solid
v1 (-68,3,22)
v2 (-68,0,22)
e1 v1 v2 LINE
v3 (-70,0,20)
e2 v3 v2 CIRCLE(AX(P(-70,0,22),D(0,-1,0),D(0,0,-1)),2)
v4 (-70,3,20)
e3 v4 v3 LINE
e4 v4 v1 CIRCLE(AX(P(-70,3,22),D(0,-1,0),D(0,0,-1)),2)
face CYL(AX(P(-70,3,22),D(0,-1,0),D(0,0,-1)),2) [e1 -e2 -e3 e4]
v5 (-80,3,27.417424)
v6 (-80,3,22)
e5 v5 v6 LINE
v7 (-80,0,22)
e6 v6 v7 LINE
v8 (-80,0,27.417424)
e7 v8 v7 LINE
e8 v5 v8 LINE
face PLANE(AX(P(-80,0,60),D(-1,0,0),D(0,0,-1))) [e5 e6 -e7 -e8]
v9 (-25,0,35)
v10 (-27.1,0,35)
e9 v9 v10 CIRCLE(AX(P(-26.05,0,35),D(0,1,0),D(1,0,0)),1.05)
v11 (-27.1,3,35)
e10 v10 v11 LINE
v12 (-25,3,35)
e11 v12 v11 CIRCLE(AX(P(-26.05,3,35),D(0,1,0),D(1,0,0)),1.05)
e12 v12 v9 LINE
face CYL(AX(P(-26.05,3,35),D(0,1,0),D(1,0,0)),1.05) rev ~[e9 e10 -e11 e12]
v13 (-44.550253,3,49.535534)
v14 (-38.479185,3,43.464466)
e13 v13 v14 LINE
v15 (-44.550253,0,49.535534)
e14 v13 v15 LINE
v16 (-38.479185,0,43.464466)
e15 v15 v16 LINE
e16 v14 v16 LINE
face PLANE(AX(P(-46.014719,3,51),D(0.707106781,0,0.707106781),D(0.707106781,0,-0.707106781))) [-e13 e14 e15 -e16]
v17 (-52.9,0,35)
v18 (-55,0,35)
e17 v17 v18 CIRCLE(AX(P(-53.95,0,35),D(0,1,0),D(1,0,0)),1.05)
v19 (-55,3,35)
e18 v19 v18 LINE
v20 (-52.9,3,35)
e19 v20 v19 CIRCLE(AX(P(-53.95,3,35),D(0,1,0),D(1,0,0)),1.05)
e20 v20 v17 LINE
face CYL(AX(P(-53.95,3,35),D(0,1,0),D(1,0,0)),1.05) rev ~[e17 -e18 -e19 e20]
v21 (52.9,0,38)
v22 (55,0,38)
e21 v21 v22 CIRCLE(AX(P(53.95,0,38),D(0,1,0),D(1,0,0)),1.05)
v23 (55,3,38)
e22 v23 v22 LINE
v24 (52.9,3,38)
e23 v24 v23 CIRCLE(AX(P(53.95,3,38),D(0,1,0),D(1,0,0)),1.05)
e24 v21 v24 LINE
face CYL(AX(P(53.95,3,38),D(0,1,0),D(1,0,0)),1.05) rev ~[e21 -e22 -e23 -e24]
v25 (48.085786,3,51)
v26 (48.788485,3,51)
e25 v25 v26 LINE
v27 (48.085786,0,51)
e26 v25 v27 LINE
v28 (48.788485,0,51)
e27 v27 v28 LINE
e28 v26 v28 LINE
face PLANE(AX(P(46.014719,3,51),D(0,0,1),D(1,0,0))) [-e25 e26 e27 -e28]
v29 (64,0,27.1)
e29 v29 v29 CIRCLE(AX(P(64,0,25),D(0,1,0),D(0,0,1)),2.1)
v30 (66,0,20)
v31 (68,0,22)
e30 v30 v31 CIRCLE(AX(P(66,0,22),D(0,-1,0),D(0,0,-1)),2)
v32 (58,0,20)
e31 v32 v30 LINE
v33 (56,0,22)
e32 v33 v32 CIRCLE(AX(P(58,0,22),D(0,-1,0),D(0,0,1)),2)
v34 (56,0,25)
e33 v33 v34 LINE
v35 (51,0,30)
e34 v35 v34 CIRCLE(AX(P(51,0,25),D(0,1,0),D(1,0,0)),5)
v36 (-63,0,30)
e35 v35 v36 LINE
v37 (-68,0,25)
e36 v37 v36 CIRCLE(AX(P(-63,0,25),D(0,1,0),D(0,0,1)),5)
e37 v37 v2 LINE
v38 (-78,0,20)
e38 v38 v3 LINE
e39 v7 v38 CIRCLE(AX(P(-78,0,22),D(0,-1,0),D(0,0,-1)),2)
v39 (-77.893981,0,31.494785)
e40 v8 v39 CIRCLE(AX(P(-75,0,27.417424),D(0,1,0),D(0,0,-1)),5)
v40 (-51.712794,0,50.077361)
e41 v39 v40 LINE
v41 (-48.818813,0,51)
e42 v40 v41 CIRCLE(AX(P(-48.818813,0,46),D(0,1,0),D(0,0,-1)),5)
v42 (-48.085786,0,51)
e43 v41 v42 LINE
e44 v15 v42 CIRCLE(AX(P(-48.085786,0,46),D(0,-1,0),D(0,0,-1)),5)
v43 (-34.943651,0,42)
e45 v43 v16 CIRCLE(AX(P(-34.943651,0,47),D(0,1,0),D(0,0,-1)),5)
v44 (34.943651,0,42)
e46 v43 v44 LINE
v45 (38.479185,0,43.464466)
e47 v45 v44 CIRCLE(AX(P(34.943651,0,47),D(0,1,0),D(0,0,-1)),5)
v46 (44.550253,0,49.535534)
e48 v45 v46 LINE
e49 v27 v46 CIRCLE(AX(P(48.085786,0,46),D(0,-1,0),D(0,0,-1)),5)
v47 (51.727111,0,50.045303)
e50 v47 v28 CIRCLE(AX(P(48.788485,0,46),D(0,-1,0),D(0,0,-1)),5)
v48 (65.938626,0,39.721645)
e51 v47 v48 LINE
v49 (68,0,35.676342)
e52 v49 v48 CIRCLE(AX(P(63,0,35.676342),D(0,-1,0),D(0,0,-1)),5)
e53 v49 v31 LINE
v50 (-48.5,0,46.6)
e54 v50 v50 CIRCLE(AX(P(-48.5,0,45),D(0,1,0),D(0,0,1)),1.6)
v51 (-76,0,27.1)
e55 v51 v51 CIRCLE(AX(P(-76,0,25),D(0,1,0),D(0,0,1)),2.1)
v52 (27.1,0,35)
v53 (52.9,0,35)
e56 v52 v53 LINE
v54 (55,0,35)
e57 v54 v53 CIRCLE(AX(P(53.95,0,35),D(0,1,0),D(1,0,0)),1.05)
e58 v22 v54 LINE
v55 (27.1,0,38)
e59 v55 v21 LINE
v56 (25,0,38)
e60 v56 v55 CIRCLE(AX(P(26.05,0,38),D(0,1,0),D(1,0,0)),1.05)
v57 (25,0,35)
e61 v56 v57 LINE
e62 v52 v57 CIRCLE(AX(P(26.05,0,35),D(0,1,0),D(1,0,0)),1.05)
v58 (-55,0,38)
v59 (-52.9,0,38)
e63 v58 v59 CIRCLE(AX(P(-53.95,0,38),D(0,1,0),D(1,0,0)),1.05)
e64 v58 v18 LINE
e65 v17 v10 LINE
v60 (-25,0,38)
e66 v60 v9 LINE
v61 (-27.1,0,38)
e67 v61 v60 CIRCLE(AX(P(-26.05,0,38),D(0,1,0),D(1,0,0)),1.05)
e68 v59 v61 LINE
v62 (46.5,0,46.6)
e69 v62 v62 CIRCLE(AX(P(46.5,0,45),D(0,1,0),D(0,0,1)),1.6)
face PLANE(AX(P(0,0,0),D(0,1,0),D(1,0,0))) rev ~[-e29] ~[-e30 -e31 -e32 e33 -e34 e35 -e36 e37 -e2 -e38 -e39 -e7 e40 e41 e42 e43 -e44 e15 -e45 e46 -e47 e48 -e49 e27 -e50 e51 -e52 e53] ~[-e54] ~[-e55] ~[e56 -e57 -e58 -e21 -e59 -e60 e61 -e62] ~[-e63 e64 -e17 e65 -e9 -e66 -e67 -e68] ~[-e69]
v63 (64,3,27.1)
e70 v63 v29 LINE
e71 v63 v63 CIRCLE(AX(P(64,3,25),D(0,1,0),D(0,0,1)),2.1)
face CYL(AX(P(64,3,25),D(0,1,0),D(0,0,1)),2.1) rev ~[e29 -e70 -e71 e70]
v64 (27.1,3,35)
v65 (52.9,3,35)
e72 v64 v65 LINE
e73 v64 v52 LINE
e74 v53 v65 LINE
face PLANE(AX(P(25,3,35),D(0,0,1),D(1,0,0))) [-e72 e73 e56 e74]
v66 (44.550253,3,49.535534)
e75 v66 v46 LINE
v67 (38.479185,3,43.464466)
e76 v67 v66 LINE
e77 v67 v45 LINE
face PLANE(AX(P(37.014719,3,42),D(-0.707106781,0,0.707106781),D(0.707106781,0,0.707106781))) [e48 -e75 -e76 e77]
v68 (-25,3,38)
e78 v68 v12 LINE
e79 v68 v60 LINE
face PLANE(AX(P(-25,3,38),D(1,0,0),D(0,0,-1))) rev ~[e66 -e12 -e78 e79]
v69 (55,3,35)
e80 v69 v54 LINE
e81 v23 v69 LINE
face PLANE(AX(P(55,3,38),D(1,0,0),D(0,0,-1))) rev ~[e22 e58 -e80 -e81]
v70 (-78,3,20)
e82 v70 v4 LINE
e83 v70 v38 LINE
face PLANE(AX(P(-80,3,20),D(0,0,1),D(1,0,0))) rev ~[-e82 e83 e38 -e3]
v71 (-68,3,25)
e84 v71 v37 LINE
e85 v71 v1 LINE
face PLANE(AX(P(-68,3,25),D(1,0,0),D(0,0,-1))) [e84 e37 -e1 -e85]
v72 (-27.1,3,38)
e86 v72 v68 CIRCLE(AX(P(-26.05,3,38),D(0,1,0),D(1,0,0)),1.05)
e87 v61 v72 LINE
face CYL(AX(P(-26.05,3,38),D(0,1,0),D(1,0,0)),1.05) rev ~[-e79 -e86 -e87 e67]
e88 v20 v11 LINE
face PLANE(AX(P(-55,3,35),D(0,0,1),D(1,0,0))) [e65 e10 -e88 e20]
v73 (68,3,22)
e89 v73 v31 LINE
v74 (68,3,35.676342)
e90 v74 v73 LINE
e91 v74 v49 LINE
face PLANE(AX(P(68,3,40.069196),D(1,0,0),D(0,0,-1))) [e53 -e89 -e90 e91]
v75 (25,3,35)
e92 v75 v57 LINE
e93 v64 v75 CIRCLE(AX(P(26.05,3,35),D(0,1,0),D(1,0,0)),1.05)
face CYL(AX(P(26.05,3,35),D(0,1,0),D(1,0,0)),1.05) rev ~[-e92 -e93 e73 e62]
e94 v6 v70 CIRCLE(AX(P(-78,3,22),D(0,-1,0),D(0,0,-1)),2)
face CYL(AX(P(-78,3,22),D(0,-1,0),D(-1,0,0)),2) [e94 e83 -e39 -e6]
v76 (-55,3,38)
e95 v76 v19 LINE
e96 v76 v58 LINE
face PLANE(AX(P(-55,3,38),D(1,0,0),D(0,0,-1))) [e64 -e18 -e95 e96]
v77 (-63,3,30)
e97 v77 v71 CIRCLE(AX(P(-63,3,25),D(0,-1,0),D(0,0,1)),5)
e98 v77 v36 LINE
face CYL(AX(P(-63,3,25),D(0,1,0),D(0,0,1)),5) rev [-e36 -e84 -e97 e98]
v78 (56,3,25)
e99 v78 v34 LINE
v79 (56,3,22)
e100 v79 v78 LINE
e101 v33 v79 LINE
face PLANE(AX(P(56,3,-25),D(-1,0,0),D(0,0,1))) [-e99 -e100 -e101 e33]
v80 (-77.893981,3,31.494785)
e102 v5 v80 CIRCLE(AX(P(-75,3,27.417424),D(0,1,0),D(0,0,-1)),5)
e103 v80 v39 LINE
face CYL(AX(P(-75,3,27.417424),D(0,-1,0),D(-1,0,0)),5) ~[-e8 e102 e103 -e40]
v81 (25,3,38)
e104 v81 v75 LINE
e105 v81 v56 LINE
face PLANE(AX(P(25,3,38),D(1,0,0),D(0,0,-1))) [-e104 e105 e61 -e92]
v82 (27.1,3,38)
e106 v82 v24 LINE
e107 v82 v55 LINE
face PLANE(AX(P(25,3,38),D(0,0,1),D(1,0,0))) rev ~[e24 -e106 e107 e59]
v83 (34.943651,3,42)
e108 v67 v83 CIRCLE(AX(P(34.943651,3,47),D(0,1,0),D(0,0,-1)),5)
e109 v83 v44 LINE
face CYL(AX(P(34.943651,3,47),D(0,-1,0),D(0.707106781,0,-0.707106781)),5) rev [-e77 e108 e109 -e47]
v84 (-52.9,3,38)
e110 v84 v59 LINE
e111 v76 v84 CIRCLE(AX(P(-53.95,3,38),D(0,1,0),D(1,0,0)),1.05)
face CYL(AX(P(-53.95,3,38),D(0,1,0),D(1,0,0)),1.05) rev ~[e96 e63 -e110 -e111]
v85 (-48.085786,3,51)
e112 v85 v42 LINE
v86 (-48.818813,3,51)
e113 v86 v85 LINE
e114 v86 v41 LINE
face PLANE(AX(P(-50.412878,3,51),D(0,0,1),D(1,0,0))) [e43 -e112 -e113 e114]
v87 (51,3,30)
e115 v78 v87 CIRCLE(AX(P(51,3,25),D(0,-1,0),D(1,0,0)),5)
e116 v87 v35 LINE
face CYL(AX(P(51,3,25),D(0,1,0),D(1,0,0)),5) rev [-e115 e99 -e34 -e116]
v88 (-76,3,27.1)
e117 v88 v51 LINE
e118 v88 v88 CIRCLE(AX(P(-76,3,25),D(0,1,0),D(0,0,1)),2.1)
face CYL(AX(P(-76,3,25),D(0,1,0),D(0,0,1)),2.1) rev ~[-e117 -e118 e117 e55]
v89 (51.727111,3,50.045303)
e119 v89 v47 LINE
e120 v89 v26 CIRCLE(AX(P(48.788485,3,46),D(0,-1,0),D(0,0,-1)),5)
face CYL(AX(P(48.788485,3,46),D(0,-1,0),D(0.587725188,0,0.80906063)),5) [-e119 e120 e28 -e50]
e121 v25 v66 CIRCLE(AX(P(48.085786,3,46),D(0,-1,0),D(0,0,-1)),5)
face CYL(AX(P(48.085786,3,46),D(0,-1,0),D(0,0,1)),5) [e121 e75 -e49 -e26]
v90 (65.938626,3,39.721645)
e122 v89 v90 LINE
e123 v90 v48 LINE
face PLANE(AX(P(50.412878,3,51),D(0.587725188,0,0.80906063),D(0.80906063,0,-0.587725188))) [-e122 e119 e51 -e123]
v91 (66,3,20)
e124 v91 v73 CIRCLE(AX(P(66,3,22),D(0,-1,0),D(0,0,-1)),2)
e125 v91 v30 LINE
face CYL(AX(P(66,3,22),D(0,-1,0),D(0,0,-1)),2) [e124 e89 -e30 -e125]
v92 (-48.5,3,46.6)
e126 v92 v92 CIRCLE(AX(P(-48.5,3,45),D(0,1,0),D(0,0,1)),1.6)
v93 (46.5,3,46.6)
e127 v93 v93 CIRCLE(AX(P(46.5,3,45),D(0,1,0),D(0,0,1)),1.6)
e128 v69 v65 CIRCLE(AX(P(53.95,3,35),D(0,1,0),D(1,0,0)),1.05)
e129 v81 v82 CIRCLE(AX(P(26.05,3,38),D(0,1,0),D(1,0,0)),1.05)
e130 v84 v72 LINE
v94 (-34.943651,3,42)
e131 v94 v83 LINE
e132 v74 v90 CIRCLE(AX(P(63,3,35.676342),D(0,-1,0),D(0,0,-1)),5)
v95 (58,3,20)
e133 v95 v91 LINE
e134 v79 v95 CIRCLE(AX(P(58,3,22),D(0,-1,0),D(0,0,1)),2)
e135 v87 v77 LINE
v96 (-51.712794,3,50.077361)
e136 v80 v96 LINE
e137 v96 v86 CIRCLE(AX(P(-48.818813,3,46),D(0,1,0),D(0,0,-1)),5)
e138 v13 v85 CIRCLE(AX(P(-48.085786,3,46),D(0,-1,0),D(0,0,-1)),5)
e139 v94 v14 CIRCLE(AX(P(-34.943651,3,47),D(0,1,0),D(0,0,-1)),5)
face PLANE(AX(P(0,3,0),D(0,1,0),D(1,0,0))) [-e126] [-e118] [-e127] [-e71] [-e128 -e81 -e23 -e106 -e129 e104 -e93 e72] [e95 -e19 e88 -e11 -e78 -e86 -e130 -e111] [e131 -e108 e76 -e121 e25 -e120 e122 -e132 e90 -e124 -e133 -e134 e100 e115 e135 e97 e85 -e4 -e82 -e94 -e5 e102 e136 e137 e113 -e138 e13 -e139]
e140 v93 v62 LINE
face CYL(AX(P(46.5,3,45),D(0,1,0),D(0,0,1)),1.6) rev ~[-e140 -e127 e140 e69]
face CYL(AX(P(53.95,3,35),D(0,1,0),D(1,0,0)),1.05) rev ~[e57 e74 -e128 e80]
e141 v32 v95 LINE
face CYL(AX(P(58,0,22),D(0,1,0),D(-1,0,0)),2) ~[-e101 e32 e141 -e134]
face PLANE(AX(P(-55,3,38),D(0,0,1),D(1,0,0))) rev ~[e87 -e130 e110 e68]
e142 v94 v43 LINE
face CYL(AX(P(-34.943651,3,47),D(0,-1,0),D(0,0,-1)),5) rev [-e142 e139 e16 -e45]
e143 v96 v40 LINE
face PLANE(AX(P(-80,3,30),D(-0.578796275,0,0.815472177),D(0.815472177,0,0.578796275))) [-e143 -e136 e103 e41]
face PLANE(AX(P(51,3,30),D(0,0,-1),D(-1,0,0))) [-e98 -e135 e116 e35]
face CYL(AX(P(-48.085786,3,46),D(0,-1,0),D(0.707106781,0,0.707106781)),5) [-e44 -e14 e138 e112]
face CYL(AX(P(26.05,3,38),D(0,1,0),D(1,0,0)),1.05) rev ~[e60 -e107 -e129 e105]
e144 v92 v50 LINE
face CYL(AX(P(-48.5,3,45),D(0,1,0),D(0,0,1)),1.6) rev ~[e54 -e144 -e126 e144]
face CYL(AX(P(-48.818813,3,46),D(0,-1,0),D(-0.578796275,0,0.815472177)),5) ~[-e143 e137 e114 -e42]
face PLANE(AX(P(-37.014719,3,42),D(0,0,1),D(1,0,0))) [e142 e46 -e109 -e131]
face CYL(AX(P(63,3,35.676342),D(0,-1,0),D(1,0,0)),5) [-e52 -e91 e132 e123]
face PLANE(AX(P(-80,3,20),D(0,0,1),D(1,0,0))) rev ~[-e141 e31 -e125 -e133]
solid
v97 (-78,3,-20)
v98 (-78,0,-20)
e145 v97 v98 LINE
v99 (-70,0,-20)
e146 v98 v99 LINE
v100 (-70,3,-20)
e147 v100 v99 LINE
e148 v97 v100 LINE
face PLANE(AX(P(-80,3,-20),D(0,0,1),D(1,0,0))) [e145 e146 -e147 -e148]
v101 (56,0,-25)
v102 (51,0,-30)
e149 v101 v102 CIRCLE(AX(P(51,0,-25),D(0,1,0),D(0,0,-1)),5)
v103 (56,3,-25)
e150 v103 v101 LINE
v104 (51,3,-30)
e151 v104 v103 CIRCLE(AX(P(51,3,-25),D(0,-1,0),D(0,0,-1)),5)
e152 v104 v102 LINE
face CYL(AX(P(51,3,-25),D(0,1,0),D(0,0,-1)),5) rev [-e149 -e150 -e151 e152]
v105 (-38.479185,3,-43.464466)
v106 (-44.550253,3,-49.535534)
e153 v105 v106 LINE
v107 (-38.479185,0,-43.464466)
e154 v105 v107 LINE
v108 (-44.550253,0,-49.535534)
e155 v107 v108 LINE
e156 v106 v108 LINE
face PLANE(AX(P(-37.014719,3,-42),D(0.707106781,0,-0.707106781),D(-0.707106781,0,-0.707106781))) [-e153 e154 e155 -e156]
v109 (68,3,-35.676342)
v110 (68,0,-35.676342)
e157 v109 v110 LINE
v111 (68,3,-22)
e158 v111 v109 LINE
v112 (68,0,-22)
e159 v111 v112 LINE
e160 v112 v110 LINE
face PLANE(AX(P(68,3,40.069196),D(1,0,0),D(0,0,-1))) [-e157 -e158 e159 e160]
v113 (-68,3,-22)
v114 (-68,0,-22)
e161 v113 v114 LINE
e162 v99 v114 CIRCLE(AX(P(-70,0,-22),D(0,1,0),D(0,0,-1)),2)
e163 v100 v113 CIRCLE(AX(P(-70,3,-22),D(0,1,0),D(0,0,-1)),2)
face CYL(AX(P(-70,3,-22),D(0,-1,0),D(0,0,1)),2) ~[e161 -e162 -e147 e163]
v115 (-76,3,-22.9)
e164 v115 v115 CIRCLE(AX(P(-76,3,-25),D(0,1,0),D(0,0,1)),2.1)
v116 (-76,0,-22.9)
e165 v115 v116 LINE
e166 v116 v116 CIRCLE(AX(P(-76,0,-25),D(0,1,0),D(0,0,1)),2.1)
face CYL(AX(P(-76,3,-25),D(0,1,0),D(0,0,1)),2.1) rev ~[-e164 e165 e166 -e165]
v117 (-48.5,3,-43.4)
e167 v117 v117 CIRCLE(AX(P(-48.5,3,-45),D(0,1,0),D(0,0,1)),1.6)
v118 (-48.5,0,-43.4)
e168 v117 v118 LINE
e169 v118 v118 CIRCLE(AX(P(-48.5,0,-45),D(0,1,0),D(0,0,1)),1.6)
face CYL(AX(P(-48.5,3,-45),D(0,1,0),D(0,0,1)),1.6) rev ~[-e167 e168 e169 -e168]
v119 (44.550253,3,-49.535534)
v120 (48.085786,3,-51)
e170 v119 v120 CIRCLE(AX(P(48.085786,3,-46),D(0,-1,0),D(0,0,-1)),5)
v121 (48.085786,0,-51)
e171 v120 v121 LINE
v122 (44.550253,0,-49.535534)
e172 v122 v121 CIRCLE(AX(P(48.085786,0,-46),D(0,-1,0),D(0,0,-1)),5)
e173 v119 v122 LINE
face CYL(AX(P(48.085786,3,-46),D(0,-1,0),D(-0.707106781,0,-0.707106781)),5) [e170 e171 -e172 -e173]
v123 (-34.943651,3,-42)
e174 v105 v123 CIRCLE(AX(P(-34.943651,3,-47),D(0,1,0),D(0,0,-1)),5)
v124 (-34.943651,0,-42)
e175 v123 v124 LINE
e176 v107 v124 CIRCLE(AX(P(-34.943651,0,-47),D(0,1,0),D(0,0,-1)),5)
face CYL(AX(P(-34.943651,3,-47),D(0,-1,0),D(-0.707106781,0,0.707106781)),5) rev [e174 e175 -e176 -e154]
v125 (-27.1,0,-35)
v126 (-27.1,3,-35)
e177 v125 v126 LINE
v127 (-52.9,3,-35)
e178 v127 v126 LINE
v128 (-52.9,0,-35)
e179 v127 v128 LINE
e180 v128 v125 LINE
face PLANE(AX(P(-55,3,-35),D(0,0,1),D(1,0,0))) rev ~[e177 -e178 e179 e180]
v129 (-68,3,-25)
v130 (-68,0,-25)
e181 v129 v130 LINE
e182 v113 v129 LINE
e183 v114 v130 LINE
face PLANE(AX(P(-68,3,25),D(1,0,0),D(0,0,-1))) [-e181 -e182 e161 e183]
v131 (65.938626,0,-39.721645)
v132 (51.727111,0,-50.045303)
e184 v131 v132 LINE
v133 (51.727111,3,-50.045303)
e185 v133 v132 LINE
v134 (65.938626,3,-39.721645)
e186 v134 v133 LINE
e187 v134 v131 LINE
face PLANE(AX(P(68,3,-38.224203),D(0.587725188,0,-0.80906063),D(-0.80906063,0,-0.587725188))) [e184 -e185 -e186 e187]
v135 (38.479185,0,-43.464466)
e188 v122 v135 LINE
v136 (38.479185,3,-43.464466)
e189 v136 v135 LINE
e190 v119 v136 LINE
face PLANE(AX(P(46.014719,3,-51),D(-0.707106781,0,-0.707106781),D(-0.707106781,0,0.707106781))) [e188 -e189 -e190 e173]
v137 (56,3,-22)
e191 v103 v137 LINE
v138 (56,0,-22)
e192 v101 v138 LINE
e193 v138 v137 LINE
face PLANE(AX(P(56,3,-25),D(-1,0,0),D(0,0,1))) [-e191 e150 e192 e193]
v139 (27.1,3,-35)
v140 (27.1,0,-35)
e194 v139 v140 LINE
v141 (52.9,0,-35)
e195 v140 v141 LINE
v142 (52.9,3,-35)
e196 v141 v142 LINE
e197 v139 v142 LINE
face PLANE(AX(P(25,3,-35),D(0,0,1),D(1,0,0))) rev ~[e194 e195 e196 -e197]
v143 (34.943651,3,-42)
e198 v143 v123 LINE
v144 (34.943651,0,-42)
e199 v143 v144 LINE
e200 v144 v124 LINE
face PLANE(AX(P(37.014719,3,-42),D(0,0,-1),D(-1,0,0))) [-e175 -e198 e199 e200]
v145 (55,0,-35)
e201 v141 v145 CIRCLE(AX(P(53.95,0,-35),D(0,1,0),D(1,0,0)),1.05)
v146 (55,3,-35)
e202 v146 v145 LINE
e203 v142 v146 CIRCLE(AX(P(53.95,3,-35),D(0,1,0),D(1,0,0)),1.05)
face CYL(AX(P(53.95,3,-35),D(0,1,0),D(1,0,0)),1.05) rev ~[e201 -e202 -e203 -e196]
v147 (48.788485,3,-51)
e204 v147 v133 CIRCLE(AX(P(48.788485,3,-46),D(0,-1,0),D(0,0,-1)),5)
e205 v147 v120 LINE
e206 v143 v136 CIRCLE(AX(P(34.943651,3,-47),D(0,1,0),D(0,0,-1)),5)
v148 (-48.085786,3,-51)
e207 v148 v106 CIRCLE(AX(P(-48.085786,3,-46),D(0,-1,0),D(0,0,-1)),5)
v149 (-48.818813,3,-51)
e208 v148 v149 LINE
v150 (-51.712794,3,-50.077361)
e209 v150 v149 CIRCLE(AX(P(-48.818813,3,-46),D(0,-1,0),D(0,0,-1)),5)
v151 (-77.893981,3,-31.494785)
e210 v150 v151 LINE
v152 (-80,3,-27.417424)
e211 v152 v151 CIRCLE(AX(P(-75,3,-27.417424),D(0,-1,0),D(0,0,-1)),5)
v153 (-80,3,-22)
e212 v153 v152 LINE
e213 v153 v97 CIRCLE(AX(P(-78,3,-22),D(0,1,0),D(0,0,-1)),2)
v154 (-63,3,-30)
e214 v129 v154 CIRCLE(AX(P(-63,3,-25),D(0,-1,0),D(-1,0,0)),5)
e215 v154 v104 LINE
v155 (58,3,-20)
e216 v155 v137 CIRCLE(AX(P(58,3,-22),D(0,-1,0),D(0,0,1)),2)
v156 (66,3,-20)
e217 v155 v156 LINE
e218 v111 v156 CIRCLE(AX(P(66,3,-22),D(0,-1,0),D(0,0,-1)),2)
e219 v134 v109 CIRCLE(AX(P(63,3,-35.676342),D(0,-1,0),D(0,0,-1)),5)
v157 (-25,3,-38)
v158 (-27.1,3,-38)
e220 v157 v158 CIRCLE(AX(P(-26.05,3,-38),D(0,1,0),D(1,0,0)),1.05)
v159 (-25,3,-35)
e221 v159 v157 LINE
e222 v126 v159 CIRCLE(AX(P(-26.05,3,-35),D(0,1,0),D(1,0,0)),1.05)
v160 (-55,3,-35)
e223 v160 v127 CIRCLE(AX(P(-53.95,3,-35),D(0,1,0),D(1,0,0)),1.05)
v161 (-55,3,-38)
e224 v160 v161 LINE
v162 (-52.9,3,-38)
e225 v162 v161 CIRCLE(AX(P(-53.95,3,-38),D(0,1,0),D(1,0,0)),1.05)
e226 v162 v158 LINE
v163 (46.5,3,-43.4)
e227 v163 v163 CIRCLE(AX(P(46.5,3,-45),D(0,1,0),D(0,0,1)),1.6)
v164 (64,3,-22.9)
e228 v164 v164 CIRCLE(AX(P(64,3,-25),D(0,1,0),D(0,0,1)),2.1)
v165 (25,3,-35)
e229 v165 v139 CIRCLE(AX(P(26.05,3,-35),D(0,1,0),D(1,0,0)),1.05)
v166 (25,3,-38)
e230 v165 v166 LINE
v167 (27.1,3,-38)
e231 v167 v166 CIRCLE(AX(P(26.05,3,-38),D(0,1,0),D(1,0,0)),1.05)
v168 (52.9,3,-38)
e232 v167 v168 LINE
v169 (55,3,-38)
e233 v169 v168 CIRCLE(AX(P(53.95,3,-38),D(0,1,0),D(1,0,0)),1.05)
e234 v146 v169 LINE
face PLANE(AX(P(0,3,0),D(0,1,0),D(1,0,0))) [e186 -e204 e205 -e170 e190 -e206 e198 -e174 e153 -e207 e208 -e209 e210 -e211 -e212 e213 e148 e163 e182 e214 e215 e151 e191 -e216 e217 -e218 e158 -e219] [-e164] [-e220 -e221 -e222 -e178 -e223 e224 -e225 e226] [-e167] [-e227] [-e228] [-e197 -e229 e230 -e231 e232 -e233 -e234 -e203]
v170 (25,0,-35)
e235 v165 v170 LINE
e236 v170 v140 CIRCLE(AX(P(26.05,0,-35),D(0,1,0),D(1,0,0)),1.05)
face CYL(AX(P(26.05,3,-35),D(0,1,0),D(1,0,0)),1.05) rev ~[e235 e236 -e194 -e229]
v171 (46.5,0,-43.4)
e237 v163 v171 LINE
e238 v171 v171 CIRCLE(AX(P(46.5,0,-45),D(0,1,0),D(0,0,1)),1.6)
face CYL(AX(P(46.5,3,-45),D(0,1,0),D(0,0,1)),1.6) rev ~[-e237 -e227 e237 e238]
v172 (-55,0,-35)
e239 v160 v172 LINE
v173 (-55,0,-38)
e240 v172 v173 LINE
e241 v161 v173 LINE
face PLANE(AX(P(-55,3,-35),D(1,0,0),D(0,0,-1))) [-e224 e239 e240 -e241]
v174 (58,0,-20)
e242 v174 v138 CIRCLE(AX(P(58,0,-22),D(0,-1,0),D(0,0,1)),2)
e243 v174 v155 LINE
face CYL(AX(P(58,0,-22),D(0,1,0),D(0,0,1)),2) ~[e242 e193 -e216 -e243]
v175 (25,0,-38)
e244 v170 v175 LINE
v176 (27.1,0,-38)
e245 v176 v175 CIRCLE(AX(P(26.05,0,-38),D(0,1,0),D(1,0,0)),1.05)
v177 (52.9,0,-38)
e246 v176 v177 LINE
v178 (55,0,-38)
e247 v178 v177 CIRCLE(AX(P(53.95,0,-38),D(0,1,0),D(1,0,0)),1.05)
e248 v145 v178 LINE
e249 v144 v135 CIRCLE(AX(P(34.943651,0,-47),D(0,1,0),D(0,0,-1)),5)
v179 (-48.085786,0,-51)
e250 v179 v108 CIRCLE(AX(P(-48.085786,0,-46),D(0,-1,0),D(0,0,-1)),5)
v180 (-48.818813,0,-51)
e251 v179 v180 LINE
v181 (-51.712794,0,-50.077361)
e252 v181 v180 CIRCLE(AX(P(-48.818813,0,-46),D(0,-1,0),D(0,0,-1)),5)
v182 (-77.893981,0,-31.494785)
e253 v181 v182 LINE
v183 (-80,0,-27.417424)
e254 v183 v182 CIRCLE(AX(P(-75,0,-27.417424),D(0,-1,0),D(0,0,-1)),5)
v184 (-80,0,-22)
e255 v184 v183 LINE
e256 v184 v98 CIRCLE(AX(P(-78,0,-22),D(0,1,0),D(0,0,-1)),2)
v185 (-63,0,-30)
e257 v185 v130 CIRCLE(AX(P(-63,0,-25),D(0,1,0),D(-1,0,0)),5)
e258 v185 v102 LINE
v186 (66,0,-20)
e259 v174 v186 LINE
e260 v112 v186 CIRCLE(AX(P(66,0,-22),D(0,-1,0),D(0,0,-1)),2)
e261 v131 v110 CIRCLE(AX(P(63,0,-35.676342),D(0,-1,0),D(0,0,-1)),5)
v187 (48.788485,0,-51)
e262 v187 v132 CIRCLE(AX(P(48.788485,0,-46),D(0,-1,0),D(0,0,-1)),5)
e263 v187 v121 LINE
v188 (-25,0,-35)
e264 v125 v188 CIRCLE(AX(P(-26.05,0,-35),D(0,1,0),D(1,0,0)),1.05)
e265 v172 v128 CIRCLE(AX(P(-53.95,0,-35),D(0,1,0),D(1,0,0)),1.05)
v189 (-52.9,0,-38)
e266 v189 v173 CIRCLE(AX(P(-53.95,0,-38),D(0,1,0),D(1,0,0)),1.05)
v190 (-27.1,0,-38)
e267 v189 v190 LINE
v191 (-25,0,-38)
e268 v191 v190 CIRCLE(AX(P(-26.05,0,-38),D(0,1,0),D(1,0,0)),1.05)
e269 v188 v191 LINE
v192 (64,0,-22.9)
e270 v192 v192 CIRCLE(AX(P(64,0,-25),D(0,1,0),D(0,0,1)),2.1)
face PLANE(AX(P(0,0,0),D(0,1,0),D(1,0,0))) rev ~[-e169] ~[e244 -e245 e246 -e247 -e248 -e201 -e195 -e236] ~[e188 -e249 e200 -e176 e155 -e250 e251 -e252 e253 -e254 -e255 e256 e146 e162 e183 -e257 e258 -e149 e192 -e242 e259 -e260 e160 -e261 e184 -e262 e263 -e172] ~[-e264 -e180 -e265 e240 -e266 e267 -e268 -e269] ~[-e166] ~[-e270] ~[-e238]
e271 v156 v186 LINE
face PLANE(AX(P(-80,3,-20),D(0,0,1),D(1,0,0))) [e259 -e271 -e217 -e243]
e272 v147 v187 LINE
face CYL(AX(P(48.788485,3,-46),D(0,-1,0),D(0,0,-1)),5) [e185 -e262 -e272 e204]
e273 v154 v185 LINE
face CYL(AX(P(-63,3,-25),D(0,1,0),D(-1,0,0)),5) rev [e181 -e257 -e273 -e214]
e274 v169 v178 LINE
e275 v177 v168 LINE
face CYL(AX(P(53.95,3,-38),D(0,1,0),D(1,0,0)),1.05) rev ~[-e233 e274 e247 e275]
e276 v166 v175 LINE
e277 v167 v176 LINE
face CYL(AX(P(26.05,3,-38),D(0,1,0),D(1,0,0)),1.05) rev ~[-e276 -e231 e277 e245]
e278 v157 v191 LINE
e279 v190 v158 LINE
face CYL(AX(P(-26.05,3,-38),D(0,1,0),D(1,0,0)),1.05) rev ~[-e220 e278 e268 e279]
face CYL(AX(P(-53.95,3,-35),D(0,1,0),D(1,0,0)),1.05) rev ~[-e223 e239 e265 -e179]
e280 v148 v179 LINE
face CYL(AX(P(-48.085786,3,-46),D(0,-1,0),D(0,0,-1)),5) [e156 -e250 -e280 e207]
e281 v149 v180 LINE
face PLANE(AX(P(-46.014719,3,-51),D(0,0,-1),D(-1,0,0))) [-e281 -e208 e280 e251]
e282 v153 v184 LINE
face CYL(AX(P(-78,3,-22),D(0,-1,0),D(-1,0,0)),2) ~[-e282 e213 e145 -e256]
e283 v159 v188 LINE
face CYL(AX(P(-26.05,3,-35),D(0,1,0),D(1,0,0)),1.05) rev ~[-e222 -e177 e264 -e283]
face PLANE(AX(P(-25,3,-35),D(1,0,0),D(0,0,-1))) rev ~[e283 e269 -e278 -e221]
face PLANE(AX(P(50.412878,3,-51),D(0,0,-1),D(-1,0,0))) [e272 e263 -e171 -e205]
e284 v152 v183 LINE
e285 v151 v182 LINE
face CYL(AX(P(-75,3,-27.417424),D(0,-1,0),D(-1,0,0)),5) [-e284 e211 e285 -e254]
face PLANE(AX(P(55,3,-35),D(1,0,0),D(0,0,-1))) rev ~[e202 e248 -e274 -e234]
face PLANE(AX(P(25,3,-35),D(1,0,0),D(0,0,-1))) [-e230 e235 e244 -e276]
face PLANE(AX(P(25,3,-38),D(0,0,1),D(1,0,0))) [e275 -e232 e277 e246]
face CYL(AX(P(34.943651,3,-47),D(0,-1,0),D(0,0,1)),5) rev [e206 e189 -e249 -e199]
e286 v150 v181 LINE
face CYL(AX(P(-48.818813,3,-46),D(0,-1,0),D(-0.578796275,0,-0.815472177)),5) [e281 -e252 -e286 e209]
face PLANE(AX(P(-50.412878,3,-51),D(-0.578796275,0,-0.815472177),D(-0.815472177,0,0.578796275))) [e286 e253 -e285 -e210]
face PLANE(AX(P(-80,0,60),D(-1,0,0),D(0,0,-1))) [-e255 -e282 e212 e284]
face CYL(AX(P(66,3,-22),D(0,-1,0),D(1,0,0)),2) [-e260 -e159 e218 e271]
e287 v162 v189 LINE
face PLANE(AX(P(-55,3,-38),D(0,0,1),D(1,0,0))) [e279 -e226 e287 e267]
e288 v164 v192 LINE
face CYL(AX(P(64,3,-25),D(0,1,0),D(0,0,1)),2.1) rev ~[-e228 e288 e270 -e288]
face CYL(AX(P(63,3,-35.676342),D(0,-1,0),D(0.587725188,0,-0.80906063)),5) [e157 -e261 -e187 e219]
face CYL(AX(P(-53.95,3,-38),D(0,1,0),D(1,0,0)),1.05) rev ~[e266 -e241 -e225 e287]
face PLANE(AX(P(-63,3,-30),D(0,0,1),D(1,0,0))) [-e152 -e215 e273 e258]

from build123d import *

# Parameters (mm, degrees)
SKETCH_1_W           = 160
SKETCH_1_H           = 120
EXTRUDE_1_DEPTH      = 3
SKETCH_2_R           = 1.6
CUT_EXTRUDE_1_DEPTH  = 3
CUT_EXTRUDE_2_DEPTH  = 3
SKETCH_14_W          = 12
SKETCH_14_H          = 80.138391148
CUT_EXTRUDE_13_DEPTH = 101.04498988
SKETCH_4_R           = 2.1
CUT_EXTRUDE_3_DEPTH  = 8
SKETCH_5_W           = 30
SKETCH_5_H           = 3
CUT_EXTRUDE_4_DEPTH  = 8
CUT_EXTRUDE_7_DEPTH  = 5
FILLET_2_R           = 5
SKETCH_11_R          = 1.05
CUT_EXTRUDE_10_DEPTH = 10
CUT_EXTRUDE_12_DEPTH = 10
CUT_EXTRUDE_14_DEPTH = 95.921019801
SKETCH_16_W          = 148
SKETCH_16_H          = 40
CUT_EXTRUDE_15_DEPTH = 95.921019801
FILLET_3_R           = 2
FILLET_4_R           = 2


with BuildPart() as part:
    # 草图1 → 凸台-拉伸1 (new body)
    with BuildSketch(Plane(origin=(0, 0, 0), x_dir=(1, 0, 0), z_dir=(0, 1, 0))):
        Rectangle(SKETCH_1_W, SKETCH_1_H)
    extrude(amount=EXTRUDE_1_DEPTH)

    # 草图2 → 切除-拉伸1 (cut)
    with BuildSketch(Plane(origin=(0, 3, 0), x_dir=(1, 0, 0), z_dir=(0, 1, 0))):
        with Locations(Location((-48.5, 45, 0), (0, 0, 270))):
            Circle(SKETCH_2_R)
        with Locations(Location((-48.5, -45, 0), (0, 0, 270))):
            Circle(SKETCH_2_R)
        with Locations(Location((46.5, -45, 0), (0, 0, 270))):
            Circle(SKETCH_2_R)
        with Locations(Location((46.5, 45, 0), (0, 0, 270))):
            Circle(SKETCH_2_R)
    extrude(amount=-CUT_EXTRUDE_1_DEPTH, mode=Mode.SUBTRACT)

    # 草图3 → 切除-拉伸2 (cut)
    with BuildSketch(Plane(origin=(0, 3, 0), x_dir=(1, 0, 0), z_dir=(0, 1, 0))):
        Polygon((-80, 60), (-80, 30), (-44.247392222, 60), align=None)
        Polygon((44.247392222, 60), (80, 30), (80, 60), align=None)
        Polygon((80, -60), (80, -30), (44.247392222, -60), align=None)
        Polygon((-44.247392222, -60), (-80, -30), (-80, -60), align=None)
    extrude(amount=-CUT_EXTRUDE_2_DEPTH, mode=Mode.SUBTRACT)

    # 草图14 → 切除-拉伸13 (cut, through all)
    with BuildSketch(Plane(origin=(0, 3, 0), x_dir=(1, 0, 0), z_dir=(0, 1, 0))):
        with Locations((74, 0)):
            Rectangle(SKETCH_14_W, SKETCH_14_H)
    extrude(amount=-CUT_EXTRUDE_13_DEPTH, mode=Mode.SUBTRACT)

    # 草图4 → 切除-拉伸3 (cut)
    with BuildSketch(Plane(origin=(0, 3, 0), x_dir=(1, 0, 0), z_dir=(0, 1, 0))):
        with Locations(Location((-76, 25, 0), (0, 0, 270))):
            Circle(SKETCH_4_R)
        with Locations(Location((-76, -25, 0), (0, 0, 270))):
            Circle(SKETCH_4_R)
        with Locations(Location((-76, 0, 0), (0, 0, 270))):
            Circle(SKETCH_4_R)
        with Locations(Location((64, 25, 0), (0, 0, 270))):
            Circle(SKETCH_4_R)
        with Locations(Location((64, -25, 0), (0, 0, 270))):
            Circle(SKETCH_4_R)
        with Locations(Location((64, 0, 0), (0, 0, 270))):
            Circle(SKETCH_4_R)
    extrude(amount=-CUT_EXTRUDE_3_DEPTH, mode=Mode.SUBTRACT)

    # 草图5 → 切除-拉伸4 (cut)
    with BuildSketch(Plane(origin=(0, 3, 0), x_dir=(1, 0, 0), z_dir=(0, 1, 0))):
        with Locations((-40, 36.5)):
            Rectangle(SKETCH_5_W, SKETCH_5_H)
        with Locations((40, 36.5)):
            Rectangle(SKETCH_5_W, SKETCH_5_H)
        with Locations((-40, -36.5)):
            Rectangle(SKETCH_5_W, SKETCH_5_H)
        with Locations((40, -36.5)):
            Rectangle(SKETCH_5_W, SKETCH_5_H)
    extrude(amount=-CUT_EXTRUDE_4_DEPTH, mode=Mode.SUBTRACT)

    # 草图7 → 切除-拉伸7 (cut)
    with BuildSketch(Plane(origin=(0, 3, 0), x_dir=(1, 0, 0), z_dir=(0, 1, 0))):
        Polygon((-80, -30), (-50.412878475, -51), (-46.014718626, -51), (-37.014718626, -42), (37.014718626, -42), (46.014718626, -51), (50.412878475, -51), (68, -38.224203086), (68, -40.069195574), (44.247392222, -60), (-44.247392222, -60), align=None)
        Polygon((68, 40.069195574), (68, 38.224203086), (50.412878475, 51), (46.014718626, 51), (37.014718626, 42), (-37.014718626, 42), (-46.014718626, 51), (-50.412878475, 51), (-80, 30), (-44.247392222, 60), (44.247392222, 60), align=None)
    extrude(amount=-CUT_EXTRUDE_7_DEPTH, mode=Mode.SUBTRACT)

    # 圆角2
    fillet_2_edges = [part.edges().sort_by_distance(p)[0] for p in [
        (68, 1.5, 38.224203086),
        (68, 1.5, -38.224203086),
        (50.412878475, 1.5, -51),
        (46.014718626, 1.5, -51),
        (37.014718626, 1.5, -42),
        (-37.014718626, 1.5, -42),
        (-46.014718626, 1.5, -51),
        (-50.412878475, 1.5, -51),
        (-50.412878475, 1.5, 51),
        (-46.014718626, 1.5, 51),
        (-37.014718626, 1.5, 42),
        (37.014718626, 1.5, 42),
        (46.014718626, 1.5, 51),
        (50.412878475, 1.5, 51),
        (-80, 1.5, 30),
        (-80, 1.5, -30),
    ]]
    fillet(fillet_2_edges, radius=FILLET_2_R)

    # 草图11 → 切除-拉伸10 (cut)
    with BuildSketch(Plane(origin=(0, 3, 0), x_dir=(1, 0, 0), z_dir=(0, 1, 0))):
        with Locations((-53.95, 38)):
            Circle(SKETCH_11_R)
        with Locations((-53.95, 35)):
            Circle(SKETCH_11_R)
        with Locations((-26.05, 35)):
            Circle(SKETCH_11_R)
        with Locations((-26.05, 38)):
            Circle(SKETCH_11_R)
        with Locations((26.05, 38)):
            Circle(SKETCH_11_R)
        with Locations((26.05, 35)):
            Circle(SKETCH_11_R)
        with Locations((53.95, 35)):
            Circle(SKETCH_11_R)
        with Locations((53.95, 38)):
            Circle(SKETCH_11_R)
        with Locations((53.95, -38)):
            Circle(SKETCH_11_R)
        with Locations((53.95, -35)):
            Circle(SKETCH_11_R)
        with Locations((26.05, -35)):
            Circle(SKETCH_11_R)
        with Locations((26.05, -38)):
            Circle(SKETCH_11_R)
        with Locations((-26.05, -38)):
            Circle(SKETCH_11_R)
        with Locations((-26.05, -35)):
            Circle(SKETCH_11_R)
        with Locations((-53.95, -35)):
            Circle(SKETCH_11_R)
        with Locations((-53.95, -38)):
            Circle(SKETCH_11_R)
    extrude(amount=-CUT_EXTRUDE_10_DEPTH, mode=Mode.SUBTRACT)

    # 草图13 → 切除-拉伸12 (cut)
    with BuildSketch(Plane(origin=(0, 3, 0), x_dir=(1, 0, 0), z_dir=(0, 1, 0))):
        Polygon((-8.660254038, 0), (-4.330127019, -7.5), (4.330127019, -7.5), (8.660254038, 0), (4.330127019, 7.5), (-4.330127019, 7.5), align=None)
    extrude(amount=-CUT_EXTRUDE_12_DEPTH, mode=Mode.SUBTRACT)

    # 草图15 → 切除-拉伸14 (cut, through all)
    with BuildSketch(Plane(origin=(0, 3, 0), x_dir=(1, 0, 0), z_dir=(0, 1, 0))):
        with BuildLine():
            Line((-63, 30), (51, 30))
            ThreePointArc((51, 30), (54.535533906, 28.535533906), (56, 25))
            Line((56, 25), (56, -25))
            ThreePointArc((56, -25), (54.535533906, -28.535533906), (51, -30))
            Line((51, -30), (-63, -30))
            ThreePointArc((-63, -30), (-66.535533906, -28.535533906), (-68, -25))
            Line((-68, -25), (-68, 25))
            ThreePointArc((-68, 25), (-66.535533906, 28.535533906), (-63, 30))
        make_face()
    extrude(amount=-CUT_EXTRUDE_14_DEPTH, mode=Mode.SUBTRACT)

    # 草图16 → 切除-拉伸15 (cut, through all)
    with BuildSketch(Plane(origin=(0, 3, 0), x_dir=(1, 0, 0), z_dir=(0, 1, 0))):
        with Locations((-6, 0)):
            Rectangle(SKETCH_16_W, SKETCH_16_H)
    extrude(amount=-CUT_EXTRUDE_15_DEPTH, mode=Mode.SUBTRACT)


with BuildPart() as cut_extrude_15_piece_1:
    # of the separate pieces the step leaves, piece 1, a body of its own (cut_extrude_15_pieces)
    add(part.part.solids().sort_by_distance((-80, 0, -27.417424305))[0])

    # 圆角3
    fillet_3_edges = [cut_extrude_15_piece_1.edges().sort_by_distance(p)[0] for p in [
        (68, 1.5, -20),
        (-80, 1.5, -20),
        (-68, 1.5, -20),
        (56, 1.5, -20),
    ]]
    fillet(fillet_3_edges, radius=FILLET_3_R)


with BuildPart() as cut_extrude_15_piece_2:
    # of the separate pieces the step leaves, piece 2, a body of its own (cut_extrude_15_pieces)
    add(part.part.solids().sort_by_distance((-68, 0, 20))[0])

    # 圆角4
    fillet_4_edges = [cut_extrude_15_piece_2.edges().sort_by_distance(p)[0] for p in [
        (56, 1.5, 20),
        (-68, 1.5, 20),
        (68, 1.5, 20),
        (-80, 1.5, 20),
    ]]
    fillet(fillet_4_edges, radius=FILLET_4_R)


solid = Compound([cut_extrude_15_piece_1.part, cut_extrude_15_piece_2.part])
